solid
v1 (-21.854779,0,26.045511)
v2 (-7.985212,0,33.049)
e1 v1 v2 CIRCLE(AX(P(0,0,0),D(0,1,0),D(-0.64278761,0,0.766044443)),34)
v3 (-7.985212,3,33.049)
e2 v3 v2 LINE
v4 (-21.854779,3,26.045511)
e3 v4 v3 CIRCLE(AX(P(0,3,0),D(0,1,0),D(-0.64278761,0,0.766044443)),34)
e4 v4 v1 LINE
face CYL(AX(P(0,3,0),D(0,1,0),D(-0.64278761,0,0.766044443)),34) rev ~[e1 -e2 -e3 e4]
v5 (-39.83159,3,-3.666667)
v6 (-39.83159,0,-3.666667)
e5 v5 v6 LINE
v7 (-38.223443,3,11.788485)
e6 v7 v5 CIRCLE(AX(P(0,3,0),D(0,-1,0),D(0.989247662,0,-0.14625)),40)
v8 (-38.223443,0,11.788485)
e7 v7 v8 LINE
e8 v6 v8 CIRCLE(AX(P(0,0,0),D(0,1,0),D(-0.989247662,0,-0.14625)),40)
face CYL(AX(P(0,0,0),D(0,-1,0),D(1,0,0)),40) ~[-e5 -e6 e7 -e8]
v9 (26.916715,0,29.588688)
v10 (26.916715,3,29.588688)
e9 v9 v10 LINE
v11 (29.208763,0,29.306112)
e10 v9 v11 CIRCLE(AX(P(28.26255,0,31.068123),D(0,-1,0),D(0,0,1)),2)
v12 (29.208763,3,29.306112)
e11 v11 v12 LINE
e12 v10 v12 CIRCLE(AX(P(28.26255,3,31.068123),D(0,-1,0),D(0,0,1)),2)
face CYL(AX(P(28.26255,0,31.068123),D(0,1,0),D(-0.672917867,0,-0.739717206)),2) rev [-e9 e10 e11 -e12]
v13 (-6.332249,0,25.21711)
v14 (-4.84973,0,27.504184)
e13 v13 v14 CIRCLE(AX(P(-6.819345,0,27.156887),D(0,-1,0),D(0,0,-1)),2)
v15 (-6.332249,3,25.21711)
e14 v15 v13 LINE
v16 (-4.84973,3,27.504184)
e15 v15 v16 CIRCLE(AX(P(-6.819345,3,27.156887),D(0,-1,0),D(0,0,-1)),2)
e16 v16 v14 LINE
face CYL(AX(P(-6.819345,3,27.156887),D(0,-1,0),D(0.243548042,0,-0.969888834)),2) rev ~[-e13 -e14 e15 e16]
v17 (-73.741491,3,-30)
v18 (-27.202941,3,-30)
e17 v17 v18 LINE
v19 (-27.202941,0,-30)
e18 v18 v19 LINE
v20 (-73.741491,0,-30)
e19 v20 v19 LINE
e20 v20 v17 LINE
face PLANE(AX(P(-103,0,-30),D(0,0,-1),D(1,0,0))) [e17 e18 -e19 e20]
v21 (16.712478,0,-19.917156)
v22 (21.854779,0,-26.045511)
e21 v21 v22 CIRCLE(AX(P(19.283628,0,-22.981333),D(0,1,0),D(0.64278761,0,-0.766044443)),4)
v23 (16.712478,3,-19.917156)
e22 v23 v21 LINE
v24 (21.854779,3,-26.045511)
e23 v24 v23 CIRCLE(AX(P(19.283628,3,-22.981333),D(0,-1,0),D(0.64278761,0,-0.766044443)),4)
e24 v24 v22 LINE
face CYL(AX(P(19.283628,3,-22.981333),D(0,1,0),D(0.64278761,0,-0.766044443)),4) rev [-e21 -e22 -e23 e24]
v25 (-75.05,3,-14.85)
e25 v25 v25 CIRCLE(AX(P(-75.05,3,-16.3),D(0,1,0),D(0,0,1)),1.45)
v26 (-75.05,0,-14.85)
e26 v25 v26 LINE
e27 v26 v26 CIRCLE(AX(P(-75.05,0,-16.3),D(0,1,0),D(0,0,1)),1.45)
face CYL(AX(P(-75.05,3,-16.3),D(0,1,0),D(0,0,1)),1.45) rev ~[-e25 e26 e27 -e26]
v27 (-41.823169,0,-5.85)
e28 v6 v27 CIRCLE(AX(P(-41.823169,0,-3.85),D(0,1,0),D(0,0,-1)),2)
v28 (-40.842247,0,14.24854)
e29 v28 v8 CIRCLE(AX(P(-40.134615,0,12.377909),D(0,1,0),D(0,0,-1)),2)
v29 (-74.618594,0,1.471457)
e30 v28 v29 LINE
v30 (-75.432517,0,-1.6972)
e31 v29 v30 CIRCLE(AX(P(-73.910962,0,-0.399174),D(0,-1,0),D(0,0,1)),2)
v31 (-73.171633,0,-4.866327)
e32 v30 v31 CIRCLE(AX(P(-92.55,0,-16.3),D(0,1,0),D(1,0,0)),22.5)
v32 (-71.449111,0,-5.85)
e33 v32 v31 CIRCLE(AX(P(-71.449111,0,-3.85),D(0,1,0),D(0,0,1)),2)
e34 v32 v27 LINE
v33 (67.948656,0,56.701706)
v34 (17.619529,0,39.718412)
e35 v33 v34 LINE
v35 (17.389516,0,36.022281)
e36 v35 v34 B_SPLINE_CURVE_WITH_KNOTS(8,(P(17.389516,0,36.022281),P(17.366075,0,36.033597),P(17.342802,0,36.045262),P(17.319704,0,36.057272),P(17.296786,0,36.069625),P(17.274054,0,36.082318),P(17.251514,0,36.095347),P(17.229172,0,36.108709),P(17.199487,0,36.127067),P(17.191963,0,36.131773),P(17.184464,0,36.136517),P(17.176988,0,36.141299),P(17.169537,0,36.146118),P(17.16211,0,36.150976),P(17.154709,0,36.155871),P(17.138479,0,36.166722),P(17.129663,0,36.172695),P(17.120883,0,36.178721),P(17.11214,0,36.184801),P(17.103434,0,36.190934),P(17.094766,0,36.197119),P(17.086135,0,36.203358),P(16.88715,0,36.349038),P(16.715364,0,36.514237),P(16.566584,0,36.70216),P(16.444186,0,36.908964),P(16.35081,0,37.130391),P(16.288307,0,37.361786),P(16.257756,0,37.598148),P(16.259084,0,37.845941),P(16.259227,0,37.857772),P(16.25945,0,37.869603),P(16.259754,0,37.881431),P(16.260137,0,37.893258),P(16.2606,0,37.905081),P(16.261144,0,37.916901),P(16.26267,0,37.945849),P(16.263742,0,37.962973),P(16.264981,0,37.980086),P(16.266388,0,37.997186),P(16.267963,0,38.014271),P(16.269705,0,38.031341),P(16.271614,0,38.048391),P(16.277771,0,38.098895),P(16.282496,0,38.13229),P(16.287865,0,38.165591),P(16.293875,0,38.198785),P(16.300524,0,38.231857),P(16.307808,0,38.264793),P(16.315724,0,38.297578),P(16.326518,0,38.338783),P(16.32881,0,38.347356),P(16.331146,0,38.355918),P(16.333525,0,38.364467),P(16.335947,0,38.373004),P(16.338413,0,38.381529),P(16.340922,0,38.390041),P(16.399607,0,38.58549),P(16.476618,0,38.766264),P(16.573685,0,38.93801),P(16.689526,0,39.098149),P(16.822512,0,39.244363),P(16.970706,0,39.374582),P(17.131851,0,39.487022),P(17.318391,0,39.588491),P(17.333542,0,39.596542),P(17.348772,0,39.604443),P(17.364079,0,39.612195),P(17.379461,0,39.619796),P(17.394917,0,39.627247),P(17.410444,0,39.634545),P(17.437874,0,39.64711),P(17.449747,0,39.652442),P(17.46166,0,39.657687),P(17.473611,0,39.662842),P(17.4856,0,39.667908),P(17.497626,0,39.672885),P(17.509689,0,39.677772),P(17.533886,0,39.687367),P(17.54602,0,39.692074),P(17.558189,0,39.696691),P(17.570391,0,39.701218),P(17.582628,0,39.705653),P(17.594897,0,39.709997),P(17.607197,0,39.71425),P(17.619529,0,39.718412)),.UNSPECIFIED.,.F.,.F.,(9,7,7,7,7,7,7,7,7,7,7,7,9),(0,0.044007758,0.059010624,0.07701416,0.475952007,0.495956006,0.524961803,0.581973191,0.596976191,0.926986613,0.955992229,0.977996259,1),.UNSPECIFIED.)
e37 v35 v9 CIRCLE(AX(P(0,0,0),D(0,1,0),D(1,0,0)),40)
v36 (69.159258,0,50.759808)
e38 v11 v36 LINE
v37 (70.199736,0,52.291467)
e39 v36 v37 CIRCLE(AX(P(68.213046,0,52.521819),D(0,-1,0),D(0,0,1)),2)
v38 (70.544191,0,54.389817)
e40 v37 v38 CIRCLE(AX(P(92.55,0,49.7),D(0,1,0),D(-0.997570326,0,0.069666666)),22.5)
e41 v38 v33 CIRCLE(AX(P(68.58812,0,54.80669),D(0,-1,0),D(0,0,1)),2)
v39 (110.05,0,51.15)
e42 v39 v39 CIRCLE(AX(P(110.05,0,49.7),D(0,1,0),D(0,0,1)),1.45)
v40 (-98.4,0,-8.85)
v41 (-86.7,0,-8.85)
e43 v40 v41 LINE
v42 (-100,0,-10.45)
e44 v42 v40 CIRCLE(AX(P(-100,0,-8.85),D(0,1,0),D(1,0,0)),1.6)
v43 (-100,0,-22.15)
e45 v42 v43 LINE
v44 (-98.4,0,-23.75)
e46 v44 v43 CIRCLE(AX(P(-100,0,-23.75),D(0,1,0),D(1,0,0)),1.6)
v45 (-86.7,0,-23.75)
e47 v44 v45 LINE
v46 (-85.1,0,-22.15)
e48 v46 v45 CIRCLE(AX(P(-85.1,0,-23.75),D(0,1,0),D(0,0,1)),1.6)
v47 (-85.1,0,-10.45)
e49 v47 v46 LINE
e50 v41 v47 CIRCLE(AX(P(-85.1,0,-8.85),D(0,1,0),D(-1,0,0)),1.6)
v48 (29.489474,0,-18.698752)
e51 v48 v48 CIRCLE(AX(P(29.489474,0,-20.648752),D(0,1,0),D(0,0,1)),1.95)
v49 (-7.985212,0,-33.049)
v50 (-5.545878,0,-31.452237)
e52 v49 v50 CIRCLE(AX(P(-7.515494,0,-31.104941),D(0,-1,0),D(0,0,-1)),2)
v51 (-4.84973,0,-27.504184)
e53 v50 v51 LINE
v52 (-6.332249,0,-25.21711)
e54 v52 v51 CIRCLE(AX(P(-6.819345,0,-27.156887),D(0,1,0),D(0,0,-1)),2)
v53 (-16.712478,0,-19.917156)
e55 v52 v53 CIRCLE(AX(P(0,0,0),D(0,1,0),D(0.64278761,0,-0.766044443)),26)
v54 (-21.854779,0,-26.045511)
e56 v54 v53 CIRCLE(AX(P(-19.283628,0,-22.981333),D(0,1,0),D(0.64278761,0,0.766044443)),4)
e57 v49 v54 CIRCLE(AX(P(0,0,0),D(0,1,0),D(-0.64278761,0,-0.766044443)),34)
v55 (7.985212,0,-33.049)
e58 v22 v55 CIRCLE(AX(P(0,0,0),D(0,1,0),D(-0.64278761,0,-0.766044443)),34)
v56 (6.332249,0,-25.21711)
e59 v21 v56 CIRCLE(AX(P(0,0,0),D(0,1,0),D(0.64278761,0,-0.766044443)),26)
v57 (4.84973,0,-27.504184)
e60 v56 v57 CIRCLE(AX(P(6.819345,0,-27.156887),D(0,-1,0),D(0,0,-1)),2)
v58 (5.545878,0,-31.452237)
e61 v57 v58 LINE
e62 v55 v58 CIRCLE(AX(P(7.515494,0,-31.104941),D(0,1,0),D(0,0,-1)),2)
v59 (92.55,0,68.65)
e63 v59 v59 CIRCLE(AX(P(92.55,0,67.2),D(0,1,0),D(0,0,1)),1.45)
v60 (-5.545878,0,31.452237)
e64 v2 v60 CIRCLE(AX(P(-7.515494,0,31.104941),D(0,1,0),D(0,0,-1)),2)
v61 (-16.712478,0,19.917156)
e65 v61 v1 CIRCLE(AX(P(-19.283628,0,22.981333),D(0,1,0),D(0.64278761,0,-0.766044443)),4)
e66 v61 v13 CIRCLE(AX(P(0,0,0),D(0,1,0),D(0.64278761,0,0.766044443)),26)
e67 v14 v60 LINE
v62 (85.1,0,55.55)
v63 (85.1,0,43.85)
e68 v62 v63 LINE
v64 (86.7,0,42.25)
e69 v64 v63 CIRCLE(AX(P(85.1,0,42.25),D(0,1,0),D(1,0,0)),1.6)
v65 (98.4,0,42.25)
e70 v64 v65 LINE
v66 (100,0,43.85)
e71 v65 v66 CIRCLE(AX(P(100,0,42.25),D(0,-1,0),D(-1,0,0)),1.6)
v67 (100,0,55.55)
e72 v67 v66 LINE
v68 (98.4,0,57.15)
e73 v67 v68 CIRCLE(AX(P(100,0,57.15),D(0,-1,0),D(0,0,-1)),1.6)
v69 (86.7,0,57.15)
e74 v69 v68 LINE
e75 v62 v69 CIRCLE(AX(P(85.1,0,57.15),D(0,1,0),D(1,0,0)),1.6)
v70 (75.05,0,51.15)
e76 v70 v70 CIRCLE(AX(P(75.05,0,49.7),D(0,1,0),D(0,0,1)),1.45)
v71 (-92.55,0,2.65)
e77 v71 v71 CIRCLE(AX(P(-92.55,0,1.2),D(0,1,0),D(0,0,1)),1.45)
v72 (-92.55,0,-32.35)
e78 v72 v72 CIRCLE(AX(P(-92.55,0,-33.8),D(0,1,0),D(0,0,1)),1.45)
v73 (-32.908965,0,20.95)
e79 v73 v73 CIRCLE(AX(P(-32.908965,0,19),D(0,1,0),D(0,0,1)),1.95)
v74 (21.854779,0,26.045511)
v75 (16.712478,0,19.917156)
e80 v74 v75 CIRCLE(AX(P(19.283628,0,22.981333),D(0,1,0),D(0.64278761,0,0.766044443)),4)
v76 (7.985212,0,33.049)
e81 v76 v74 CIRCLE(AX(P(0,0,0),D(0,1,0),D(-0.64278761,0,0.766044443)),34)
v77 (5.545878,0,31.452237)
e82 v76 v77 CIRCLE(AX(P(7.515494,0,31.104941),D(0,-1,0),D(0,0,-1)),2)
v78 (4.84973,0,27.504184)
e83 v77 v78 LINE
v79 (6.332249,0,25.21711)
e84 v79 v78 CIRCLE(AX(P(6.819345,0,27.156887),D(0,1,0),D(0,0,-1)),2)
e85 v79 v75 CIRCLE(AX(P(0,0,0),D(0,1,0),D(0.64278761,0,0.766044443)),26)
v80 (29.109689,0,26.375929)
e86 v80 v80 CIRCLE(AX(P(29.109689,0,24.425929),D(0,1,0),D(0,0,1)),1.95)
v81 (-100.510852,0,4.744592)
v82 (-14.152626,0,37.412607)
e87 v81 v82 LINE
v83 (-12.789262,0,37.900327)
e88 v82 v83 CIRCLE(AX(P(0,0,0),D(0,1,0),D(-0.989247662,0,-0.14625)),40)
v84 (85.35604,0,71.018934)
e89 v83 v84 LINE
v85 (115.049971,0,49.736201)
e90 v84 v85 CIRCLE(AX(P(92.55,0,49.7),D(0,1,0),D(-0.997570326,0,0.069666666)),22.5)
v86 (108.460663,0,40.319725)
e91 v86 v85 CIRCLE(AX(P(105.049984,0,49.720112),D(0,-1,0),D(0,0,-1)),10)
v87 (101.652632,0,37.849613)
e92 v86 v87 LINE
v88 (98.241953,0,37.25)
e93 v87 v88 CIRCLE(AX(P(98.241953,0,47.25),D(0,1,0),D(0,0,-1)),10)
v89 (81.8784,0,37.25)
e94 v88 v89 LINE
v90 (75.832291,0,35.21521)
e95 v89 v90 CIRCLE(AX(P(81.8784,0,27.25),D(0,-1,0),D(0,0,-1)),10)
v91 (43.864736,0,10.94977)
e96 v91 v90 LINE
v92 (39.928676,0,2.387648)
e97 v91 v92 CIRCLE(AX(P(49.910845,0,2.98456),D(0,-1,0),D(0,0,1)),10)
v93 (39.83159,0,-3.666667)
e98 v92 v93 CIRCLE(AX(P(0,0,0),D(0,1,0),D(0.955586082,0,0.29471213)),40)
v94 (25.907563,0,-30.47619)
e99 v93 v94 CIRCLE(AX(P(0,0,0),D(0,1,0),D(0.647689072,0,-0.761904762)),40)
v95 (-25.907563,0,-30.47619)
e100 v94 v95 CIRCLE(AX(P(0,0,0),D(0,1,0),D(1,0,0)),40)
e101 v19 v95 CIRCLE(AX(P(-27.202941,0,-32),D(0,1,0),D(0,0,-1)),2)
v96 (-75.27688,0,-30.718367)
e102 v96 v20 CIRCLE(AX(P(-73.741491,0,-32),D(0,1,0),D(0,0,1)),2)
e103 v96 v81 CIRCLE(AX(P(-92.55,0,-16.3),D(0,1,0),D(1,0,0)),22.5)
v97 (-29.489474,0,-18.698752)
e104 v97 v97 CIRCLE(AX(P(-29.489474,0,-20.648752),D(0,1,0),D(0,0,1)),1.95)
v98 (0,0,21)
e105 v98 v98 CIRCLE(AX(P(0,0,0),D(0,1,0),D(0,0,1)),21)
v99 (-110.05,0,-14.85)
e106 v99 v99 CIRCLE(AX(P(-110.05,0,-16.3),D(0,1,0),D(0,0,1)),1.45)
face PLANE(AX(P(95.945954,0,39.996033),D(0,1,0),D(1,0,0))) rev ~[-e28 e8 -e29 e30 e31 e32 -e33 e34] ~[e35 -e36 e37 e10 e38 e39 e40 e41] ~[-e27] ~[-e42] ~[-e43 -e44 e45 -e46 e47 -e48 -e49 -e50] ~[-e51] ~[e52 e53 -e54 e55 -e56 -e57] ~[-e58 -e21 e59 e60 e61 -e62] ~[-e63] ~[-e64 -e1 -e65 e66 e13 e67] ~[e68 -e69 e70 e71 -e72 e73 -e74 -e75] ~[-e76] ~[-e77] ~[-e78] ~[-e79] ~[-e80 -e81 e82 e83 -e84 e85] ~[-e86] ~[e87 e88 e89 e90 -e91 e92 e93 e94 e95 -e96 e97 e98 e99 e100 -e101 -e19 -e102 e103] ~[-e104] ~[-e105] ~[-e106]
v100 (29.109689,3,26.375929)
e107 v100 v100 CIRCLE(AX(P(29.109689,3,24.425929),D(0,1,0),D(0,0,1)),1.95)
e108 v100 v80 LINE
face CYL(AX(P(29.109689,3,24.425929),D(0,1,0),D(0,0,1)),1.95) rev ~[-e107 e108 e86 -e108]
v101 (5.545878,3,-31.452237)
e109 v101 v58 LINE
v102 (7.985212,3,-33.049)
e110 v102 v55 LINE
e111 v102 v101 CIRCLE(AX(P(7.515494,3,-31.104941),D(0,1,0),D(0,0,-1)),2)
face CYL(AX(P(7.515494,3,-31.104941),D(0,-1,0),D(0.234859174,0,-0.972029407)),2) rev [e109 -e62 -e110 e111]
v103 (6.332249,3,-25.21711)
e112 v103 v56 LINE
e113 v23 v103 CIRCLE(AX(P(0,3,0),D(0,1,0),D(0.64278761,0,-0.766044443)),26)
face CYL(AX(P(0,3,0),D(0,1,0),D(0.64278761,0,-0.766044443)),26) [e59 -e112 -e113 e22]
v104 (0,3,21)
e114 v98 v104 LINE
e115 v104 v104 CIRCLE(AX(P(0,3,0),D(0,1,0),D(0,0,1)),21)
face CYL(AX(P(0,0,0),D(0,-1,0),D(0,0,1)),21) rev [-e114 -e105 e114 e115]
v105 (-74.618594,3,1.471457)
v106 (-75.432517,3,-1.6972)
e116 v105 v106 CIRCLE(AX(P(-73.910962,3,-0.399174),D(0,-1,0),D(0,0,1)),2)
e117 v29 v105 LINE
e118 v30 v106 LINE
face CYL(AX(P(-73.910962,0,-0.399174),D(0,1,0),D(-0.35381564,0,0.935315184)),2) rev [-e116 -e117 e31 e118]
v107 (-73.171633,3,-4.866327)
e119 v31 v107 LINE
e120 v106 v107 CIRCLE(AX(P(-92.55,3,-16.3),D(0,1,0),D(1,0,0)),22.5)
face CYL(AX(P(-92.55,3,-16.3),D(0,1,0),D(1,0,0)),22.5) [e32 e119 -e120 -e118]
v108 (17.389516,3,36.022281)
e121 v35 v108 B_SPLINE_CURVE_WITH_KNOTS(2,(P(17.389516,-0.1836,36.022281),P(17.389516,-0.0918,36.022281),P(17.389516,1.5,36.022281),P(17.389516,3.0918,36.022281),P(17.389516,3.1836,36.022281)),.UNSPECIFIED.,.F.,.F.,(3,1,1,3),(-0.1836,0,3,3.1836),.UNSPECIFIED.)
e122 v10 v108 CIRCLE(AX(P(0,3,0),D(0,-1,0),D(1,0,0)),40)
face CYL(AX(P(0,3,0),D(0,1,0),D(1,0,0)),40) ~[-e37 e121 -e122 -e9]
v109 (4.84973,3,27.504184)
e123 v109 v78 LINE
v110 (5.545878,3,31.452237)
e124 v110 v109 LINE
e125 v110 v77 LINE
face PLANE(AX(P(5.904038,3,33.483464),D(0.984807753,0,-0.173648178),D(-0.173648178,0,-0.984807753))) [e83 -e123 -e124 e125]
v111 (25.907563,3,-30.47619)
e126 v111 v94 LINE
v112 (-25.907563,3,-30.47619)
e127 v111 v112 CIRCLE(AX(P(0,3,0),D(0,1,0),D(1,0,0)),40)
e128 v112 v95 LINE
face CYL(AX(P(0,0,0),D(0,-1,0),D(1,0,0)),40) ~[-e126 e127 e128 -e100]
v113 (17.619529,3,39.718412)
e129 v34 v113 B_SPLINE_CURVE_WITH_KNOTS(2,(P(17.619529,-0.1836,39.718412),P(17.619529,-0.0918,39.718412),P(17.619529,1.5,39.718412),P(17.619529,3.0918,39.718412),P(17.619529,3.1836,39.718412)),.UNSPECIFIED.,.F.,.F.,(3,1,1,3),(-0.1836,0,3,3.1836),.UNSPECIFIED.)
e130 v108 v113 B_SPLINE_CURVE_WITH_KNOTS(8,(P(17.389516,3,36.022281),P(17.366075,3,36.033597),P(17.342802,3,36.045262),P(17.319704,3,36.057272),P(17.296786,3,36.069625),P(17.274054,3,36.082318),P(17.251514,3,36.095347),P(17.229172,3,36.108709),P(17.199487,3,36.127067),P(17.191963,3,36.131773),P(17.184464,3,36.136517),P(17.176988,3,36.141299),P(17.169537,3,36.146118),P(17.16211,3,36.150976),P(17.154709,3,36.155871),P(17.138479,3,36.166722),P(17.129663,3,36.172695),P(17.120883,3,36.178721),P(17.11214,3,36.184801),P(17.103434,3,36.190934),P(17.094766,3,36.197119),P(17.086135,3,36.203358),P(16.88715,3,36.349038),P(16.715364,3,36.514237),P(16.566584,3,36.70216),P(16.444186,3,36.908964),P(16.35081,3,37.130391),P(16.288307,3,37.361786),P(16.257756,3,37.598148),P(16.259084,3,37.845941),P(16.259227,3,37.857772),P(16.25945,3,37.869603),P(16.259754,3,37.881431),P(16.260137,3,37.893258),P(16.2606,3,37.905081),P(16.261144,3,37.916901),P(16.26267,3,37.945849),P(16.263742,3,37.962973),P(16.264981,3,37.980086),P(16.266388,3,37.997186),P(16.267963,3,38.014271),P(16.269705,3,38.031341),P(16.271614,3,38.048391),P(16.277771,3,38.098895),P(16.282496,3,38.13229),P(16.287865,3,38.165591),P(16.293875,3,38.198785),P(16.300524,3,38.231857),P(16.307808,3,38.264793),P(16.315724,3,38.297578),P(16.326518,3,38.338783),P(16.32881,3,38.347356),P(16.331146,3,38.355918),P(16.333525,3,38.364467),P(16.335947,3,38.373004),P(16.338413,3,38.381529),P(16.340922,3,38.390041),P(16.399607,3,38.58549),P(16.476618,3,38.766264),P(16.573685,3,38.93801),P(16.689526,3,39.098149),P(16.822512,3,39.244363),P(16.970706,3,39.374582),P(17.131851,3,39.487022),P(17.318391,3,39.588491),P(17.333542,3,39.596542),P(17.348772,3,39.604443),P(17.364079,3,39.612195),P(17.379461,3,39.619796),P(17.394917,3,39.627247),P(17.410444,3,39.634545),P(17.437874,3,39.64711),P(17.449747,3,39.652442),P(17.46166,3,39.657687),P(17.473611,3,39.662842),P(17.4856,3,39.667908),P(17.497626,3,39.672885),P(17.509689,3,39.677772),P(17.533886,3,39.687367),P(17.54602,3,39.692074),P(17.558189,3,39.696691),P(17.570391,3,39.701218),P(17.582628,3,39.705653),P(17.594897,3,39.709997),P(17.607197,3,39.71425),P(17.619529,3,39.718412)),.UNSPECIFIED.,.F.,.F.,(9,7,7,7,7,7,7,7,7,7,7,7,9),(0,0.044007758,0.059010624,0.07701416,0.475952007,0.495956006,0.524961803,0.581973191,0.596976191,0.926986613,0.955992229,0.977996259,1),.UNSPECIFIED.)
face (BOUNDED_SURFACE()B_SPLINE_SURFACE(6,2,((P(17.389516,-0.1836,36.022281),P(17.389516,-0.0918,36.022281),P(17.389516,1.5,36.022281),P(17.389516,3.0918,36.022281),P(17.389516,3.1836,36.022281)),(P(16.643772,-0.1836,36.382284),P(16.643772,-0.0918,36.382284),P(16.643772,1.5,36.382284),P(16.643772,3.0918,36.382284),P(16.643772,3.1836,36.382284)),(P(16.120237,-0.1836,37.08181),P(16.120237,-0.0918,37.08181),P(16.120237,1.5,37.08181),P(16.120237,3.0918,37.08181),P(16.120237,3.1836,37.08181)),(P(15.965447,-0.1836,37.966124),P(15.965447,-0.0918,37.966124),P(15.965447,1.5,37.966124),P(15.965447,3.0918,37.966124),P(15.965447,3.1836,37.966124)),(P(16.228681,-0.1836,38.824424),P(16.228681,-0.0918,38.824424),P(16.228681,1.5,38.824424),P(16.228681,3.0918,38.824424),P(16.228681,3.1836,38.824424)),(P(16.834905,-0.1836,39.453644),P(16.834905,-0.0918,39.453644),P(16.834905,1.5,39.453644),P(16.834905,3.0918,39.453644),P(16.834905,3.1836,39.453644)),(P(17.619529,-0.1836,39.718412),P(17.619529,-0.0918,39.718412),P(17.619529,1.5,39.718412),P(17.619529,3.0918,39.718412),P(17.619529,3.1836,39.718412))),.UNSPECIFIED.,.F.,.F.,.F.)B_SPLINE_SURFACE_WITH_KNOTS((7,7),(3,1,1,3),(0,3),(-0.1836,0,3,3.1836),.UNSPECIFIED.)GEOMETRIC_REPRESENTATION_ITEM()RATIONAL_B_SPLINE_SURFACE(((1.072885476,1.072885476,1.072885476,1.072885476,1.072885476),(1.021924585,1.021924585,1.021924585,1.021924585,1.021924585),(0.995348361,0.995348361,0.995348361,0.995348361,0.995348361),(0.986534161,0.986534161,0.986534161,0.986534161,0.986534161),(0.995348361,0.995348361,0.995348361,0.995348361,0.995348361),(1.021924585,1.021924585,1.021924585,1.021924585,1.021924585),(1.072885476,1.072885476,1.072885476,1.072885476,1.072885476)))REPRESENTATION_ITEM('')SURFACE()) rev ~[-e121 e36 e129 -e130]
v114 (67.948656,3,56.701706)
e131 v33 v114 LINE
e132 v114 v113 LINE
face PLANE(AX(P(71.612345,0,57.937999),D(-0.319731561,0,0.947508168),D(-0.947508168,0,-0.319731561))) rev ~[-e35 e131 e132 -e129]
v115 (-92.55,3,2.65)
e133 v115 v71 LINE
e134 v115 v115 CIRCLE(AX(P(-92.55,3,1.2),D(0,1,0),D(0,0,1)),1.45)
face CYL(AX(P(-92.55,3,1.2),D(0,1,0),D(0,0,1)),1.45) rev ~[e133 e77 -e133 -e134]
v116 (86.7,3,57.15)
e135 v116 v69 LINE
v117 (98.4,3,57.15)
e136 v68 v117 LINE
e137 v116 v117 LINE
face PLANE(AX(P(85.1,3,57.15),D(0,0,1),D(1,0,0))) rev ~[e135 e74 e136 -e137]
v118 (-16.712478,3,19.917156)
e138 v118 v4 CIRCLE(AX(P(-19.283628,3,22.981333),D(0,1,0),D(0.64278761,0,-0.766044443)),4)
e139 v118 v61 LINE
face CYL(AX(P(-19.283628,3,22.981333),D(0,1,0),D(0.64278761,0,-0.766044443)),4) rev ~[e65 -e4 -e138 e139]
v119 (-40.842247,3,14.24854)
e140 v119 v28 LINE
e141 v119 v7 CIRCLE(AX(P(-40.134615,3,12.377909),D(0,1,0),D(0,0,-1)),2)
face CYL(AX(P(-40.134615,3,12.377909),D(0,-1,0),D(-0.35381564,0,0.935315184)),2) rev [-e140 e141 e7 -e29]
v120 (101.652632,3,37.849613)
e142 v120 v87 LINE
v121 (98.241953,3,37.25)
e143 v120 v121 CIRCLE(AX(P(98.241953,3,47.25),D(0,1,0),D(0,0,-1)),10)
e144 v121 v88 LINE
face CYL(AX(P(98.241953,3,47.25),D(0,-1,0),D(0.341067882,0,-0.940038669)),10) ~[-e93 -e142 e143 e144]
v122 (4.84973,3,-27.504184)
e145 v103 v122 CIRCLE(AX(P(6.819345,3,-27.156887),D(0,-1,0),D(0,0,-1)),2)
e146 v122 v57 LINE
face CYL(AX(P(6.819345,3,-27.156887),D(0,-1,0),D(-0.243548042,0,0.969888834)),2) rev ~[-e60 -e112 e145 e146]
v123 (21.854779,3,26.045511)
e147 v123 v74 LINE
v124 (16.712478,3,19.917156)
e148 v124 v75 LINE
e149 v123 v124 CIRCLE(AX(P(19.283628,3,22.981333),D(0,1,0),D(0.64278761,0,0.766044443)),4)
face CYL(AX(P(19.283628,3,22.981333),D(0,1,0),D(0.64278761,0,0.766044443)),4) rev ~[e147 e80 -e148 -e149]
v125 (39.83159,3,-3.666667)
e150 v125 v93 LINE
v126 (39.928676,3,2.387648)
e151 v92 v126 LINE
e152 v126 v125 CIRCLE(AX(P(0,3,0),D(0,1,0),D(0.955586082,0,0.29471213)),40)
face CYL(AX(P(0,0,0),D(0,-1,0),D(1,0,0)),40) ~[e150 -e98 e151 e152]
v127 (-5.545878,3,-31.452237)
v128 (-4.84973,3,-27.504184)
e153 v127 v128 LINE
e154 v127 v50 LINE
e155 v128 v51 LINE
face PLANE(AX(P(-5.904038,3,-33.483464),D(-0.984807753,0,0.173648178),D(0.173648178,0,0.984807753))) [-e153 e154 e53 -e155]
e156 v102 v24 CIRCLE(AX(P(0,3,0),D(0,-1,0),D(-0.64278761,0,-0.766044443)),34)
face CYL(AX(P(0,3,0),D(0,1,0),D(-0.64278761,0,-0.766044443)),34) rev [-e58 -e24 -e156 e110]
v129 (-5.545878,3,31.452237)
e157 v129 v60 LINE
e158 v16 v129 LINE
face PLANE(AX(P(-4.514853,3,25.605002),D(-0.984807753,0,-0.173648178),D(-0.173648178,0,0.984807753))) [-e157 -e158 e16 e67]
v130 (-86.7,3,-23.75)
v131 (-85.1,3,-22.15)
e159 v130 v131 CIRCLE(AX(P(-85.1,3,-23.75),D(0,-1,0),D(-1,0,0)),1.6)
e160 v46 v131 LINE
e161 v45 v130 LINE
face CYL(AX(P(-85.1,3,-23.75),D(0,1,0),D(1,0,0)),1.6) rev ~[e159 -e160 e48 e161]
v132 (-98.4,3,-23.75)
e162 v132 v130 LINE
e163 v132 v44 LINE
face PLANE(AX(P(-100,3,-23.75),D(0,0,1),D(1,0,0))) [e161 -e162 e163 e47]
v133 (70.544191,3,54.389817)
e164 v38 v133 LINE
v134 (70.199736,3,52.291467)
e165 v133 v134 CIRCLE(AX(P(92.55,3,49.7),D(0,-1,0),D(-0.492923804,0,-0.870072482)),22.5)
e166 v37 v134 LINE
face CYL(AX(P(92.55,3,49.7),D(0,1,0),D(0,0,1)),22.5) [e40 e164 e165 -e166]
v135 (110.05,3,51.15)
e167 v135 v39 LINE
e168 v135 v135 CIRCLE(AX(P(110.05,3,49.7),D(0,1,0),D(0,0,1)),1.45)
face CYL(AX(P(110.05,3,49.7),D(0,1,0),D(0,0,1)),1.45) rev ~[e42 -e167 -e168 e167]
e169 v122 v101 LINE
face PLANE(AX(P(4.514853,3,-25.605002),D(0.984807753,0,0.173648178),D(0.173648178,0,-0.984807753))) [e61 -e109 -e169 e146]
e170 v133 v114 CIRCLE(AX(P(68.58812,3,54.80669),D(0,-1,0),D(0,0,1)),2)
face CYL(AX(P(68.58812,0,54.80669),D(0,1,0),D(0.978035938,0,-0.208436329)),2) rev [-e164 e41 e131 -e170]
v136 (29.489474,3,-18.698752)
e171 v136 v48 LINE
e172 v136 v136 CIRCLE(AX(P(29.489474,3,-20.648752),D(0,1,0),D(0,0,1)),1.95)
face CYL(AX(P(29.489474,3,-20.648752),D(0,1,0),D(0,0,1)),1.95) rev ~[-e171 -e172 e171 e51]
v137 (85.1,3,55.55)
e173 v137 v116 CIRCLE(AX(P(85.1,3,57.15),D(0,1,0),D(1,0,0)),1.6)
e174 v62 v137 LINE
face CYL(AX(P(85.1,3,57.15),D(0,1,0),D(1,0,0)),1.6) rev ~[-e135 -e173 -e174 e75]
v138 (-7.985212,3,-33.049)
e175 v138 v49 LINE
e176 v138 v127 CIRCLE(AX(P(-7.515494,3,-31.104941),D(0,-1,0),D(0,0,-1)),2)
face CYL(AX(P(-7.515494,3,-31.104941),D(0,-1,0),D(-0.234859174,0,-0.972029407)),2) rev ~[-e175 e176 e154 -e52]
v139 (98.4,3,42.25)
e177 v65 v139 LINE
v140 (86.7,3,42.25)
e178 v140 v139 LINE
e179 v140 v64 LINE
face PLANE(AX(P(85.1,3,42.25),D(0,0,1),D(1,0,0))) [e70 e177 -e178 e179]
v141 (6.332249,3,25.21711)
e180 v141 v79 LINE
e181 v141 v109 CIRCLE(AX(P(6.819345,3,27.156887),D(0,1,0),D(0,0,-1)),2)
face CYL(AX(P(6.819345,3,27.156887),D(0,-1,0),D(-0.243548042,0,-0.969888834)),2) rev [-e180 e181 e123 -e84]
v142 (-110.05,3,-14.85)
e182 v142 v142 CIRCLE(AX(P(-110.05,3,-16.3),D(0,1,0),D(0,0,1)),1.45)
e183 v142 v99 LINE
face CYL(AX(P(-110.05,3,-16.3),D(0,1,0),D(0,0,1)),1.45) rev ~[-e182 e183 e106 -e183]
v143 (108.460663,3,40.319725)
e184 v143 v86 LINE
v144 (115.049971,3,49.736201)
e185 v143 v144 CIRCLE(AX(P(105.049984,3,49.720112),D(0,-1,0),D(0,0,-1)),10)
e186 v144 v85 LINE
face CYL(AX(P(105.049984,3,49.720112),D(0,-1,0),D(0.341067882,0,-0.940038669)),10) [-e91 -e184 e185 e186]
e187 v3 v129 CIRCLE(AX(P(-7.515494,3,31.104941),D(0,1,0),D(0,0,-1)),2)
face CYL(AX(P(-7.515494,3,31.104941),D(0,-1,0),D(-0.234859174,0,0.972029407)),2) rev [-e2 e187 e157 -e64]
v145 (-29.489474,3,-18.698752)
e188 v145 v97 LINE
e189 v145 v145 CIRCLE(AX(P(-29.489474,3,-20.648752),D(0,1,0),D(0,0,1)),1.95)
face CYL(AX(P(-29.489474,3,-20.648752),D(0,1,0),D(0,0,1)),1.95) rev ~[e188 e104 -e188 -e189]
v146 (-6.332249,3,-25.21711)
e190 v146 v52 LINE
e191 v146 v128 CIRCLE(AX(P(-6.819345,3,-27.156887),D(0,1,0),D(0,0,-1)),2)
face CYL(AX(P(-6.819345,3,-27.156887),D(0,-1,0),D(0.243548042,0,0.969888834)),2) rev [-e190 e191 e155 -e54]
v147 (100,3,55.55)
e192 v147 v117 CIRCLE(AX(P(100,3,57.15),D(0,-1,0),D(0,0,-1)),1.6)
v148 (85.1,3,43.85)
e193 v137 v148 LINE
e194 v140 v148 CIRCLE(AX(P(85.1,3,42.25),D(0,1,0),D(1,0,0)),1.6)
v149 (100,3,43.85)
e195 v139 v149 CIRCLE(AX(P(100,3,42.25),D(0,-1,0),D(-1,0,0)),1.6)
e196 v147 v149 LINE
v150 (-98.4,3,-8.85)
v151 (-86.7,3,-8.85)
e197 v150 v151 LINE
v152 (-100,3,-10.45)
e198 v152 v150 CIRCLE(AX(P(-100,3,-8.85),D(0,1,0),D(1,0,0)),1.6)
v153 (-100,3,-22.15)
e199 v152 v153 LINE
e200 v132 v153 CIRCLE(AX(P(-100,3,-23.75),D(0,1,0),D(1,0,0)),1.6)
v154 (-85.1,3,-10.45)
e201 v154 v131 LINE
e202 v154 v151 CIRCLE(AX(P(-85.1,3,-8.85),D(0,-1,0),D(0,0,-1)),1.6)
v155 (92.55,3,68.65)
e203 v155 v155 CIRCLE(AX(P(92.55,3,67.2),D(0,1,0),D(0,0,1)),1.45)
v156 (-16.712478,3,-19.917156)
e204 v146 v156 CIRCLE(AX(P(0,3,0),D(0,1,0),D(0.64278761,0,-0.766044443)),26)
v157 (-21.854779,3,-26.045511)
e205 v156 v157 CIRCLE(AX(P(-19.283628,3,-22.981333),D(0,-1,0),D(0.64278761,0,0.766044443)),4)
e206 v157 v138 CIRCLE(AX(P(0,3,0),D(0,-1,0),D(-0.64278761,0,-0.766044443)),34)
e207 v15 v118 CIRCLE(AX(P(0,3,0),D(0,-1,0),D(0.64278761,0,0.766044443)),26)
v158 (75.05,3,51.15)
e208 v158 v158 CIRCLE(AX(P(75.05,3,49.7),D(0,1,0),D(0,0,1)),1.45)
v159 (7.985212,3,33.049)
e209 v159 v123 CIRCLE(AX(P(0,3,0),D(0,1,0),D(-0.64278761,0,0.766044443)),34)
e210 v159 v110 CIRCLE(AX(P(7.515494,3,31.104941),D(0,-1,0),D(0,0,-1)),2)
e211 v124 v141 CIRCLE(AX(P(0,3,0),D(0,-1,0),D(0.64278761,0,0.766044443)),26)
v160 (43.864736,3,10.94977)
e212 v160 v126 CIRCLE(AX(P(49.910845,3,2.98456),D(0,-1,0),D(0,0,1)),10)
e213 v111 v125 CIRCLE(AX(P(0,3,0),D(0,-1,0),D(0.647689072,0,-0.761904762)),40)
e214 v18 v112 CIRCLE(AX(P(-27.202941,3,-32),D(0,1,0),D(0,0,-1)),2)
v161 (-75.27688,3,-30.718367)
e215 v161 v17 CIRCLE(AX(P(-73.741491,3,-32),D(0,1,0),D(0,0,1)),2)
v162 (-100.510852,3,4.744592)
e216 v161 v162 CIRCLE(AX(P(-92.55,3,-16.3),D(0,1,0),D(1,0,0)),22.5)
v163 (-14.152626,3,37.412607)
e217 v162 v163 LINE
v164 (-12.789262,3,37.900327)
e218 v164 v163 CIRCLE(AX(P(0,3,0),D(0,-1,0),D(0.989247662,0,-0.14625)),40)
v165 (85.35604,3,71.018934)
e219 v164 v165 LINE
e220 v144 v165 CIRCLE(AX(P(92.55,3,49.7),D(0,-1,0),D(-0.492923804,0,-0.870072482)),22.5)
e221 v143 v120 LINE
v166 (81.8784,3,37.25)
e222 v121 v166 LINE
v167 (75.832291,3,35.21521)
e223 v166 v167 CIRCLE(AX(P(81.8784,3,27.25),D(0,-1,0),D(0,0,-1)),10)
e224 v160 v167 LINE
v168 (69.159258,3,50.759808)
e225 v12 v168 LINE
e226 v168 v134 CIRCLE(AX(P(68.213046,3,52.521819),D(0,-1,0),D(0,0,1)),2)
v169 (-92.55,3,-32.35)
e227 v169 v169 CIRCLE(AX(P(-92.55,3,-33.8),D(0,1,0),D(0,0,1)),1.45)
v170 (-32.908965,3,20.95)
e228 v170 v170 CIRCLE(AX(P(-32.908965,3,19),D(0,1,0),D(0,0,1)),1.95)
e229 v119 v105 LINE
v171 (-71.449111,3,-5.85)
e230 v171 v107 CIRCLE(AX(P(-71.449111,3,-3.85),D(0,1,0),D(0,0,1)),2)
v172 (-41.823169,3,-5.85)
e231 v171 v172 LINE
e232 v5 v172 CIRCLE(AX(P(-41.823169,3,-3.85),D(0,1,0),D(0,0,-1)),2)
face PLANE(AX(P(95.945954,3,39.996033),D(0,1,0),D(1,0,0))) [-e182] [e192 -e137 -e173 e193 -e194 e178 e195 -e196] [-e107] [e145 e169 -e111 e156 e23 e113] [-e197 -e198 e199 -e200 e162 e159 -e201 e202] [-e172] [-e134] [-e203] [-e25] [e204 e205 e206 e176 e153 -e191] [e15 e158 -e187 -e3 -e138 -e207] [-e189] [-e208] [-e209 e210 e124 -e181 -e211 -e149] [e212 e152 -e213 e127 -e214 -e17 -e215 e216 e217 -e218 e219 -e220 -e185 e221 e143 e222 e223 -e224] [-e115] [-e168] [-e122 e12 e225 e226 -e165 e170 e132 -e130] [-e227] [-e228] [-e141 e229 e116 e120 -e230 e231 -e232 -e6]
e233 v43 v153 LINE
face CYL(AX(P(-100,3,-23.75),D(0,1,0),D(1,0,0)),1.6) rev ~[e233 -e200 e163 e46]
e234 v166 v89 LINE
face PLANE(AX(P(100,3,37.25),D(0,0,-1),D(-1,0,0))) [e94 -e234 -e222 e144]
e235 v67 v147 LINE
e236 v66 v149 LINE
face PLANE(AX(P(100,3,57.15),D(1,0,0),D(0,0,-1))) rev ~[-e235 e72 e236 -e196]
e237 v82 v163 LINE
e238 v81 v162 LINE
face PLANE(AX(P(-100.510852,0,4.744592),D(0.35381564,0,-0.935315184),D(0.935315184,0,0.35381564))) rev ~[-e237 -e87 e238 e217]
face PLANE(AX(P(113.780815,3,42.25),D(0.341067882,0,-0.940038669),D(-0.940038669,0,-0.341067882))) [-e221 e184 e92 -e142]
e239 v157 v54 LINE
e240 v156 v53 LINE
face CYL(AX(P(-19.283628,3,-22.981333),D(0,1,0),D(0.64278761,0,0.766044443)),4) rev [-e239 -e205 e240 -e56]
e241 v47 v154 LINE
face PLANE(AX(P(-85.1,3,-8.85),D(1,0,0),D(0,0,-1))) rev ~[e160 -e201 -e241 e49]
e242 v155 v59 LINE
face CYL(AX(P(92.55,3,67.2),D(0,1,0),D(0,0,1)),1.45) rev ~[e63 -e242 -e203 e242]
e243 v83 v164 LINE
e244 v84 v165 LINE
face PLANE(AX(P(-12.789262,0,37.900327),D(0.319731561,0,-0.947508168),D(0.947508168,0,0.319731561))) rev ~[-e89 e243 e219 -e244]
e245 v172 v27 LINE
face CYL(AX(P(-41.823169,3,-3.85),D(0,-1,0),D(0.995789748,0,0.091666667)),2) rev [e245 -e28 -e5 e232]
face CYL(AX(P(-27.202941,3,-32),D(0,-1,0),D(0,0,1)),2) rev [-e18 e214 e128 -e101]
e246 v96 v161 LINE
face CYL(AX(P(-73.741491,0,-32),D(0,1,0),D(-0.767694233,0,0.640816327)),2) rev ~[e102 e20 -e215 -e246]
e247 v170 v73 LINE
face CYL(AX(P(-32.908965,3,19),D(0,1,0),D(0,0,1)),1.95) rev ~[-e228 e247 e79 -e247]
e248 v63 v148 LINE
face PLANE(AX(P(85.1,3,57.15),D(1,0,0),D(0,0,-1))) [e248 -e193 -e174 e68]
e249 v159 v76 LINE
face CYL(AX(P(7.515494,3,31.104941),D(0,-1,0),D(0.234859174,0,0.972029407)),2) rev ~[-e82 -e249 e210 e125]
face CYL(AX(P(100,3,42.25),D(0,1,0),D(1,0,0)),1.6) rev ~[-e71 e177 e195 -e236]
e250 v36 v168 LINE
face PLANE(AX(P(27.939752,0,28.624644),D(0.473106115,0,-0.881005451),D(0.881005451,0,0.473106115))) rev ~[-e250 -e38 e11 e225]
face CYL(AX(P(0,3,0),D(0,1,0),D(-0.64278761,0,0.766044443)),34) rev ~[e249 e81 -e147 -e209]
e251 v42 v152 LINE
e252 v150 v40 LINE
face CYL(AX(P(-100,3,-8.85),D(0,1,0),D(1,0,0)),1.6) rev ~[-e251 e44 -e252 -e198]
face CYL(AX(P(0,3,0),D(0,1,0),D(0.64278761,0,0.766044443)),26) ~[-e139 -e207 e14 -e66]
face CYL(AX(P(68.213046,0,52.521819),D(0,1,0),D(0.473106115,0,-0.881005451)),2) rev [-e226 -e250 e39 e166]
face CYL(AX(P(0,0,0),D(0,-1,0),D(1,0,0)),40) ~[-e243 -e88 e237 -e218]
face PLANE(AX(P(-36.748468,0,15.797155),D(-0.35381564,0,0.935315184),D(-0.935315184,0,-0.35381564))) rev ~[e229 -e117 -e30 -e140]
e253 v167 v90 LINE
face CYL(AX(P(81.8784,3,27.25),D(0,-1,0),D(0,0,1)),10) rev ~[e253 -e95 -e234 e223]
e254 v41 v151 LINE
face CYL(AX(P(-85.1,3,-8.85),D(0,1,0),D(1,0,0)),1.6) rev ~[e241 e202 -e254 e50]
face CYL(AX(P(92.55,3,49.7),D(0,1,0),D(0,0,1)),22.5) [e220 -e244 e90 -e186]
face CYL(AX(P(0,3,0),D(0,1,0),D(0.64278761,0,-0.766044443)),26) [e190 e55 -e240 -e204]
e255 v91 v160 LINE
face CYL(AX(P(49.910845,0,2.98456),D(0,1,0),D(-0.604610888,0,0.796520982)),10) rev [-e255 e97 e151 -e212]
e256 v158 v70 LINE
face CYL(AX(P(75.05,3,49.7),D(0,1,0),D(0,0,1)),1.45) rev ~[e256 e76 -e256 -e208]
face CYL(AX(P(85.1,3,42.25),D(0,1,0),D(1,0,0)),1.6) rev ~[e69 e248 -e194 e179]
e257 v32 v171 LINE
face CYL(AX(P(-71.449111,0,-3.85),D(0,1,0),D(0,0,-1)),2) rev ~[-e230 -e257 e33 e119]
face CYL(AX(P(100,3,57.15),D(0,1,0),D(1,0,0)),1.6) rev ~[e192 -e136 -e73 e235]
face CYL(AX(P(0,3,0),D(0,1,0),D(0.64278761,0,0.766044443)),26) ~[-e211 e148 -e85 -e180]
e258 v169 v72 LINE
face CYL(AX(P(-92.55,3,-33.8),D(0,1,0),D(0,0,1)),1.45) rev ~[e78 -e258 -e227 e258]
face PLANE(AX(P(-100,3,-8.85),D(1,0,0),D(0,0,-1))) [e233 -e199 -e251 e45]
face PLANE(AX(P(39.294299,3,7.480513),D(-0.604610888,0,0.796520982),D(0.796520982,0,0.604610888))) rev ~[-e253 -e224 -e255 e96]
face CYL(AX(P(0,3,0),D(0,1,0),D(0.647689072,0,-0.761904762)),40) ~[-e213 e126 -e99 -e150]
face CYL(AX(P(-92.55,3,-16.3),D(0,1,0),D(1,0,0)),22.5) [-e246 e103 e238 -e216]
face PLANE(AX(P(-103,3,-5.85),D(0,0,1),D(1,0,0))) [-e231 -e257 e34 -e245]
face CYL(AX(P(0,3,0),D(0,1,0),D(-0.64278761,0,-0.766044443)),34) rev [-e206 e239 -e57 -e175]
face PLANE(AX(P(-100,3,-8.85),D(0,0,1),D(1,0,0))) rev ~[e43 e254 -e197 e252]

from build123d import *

# Parameters (mm, degrees)
SKETCH_1_W           = 206
SKETCH_1_H           = 60
SKETCH_1_R           = 21
EXTRUDE_1_DEPTH      = 3
SKETCH_2_W           = 14.9
SKETCH_2_H           = 14.9
CUT_EXTRUDE_1_DEPTH  = 108.321945566
SKETCH_3_W           = 80
SKETCH_3_H           = 35.85
CUT_EXTRUDE_2_DEPTH  = 108.321945566
SKETCH_4_R           = 22.5
SKETCH_4_W           = 14.9
SKETCH_4_H           = 14.9
EXTRUDE_2_DEPTH      = 3
EXTRUDE_START        = -3
SKETCH_5_R           = 40
SKETCH_5_R_2         = 21
EXTRUDE_3_DEPTH      = 3
SKETCH_6_R           = 1.6
CUT_EXTRUDE_3_DEPTH  = 122.842121206
SKETCH_7_R           = 1.45
CUT_EXTRUDE_4_DEPTH  = 122.842121206
SKETCH_8_R           = 5
EXTRUDE_4_DEPTH      = 3
SKETCH_9_R           = 1.95
CUT_EXTRUDE_5_DEPTH  = 122.842121206
SKETCH_10_R          = 1.95
CUT_EXTRUDE_6_DEPTH  = 122.842121206
EXTRUDE_5_DEPTH      = 3
FILLET_1_R           = 2
CUT_EXTRUDE_7_DEPTH  = 122.842121206
EXTRUDE_6_DEPTH      = 3
FILLET_2_R           = 2
SKETCH_14_R          = 22.5
SKETCH_14_R_2        = 1.45
SKETCH_14_W          = 14.9
SKETCH_14_H          = 14.9
EXTRUDE_7_DEPTH      = 3
CUT_EXTRUDE_8_DEPTH  = 136.861482768
EXTRUDE_8_DEPTH      = 3
CUT_EXTRUDE_9_DEPTH  = 136.861482768
EXTRUDE_9_DEPTH      = 3
EXTRUDE_10_DEPTH     = 3
FILLET_3_R           = 2
FILLET_4_R           = 10
SKETCH_21_R          = 1.6
CUT_EXTRUDE_10_DEPTH = 136.861482768


with BuildPart() as part:
    # 草图1 → 凸台-拉伸1 (new body)
    with BuildSketch(Plane(origin=(0, 0, 0), x_dir=(1, 0, 0), z_dir=(0, 1, 0))):
        Rectangle(SKETCH_1_W, SKETCH_1_H)
        with Locations(Location((0, 0, 0), (0, 0, 270))):
            Circle(SKETCH_1_R, mode=Mode.SUBTRACT)
    extrude(amount=EXTRUDE_1_DEPTH)

    # 草图2 → 切除-拉伸1 (cut, through all)
    with BuildSketch(Plane(origin=(0, 3, 0), x_dir=(1, 0, 0), z_dir=(0, 1, 0))):
        with Locations((-92.55, 16.3)):
            Rectangle(SKETCH_2_W, SKETCH_2_H)
        with Locations((92.55, 16.3)):
            Rectangle(SKETCH_2_W, SKETCH_2_H)
    extrude(amount=-CUT_EXTRUDE_1_DEPTH, mode=Mode.SUBTRACT)

    # 草图3 → 切除-拉伸2 (cut, through all)
    with BuildSketch(Plane(origin=(0, 3, 0), x_dir=(1, 0, 0), z_dir=(0, 1, 0))):
        with Locations((-63, -12.075)):
            Rectangle(SKETCH_3_W, SKETCH_3_H)
        with Locations((63, -12.075)):
            Rectangle(SKETCH_3_W, SKETCH_3_H)
    extrude(amount=-CUT_EXTRUDE_2_DEPTH, mode=Mode.SUBTRACT)

    # 草图4 → 凸台-拉伸2 (add)
    # profile 1 of 2: a face of its own
    with BuildSketch(Plane(origin=(0, 3, 0), x_dir=(1, 0, 0), z_dir=(0, 1, 0))):
        with Locations((-92.55, 16.3)):
            Circle(SKETCH_4_R)
        with Locations((-92.55, 16.3)):
            Rectangle(SKETCH_4_W, SKETCH_4_H, mode=Mode.SUBTRACT)
    # profile 2 of 2: a face of its own
    with BuildSketch(Plane(origin=(0, 3, 0), x_dir=(1, 0, 0), z_dir=(0, 1, 0))):
        with Locations((92.55, 16.3)):
            Circle(SKETCH_4_R)
        with Locations((92.55, 16.3)):
            Rectangle(SKETCH_4_W, SKETCH_4_H, mode=Mode.SUBTRACT)
    extrude(amount=-EXTRUDE_2_DEPTH)

    # 草图5 → 凸台-拉伸3 (add)
    with BuildSketch(Plane(origin=(0, 3, 0), x_dir=(1, 0, 0), z_dir=(0, 1, 0)).offset(EXTRUDE_START)):
        Circle(SKETCH_5_R)
        with Locations(Location((0, 0, 0), (0, 0, 270))):
            Circle(SKETCH_5_R_2, mode=Mode.SUBTRACT)
    extrude(amount=EXTRUDE_3_DEPTH)

    # 草图6 → 切除-拉伸3 (cut, through all)
    with BuildSketch(Plane(origin=(0, 3, 0), x_dir=(1, 0, 0), z_dir=(0, 1, 0))):
        with Locations((-100, 23.75)):
            Circle(SKETCH_6_R)
        with Locations((-85.1, 23.75)):
            Circle(SKETCH_6_R)
        with Locations((-100, 8.85)):
            Circle(SKETCH_6_R)
        with Locations((-85.1, 8.85)):
            Circle(SKETCH_6_R)
        with Locations((85.1, 8.85)):
            Circle(SKETCH_6_R)
        with Locations((100, 8.85)):
            Circle(SKETCH_6_R)
        with Locations((85.1, 23.75)):
            Circle(SKETCH_6_R)
        with Locations((100, 23.75)):
            Circle(SKETCH_6_R)
    extrude(amount=-CUT_EXTRUDE_3_DEPTH, mode=Mode.SUBTRACT)

    # 草图7 → 切除-拉伸4 (cut, through all)
    with BuildSketch(Plane(origin=(0, 3, 0), x_dir=(1, 0, 0), z_dir=(0, 1, 0))):
        with Locations(Location((-92.55, 33.8, 0), (0, 0, 270))):
            Circle(SKETCH_7_R)
        with Locations(Location((-75.05, 16.3, 0), (0, 0, 270))):
            Circle(SKETCH_7_R)
        with Locations(Location((-92.55, -1.2, 0), (0, 0, 270))):
            Circle(SKETCH_7_R)
        with Locations(Location((-110.05, 16.3, 0), (0, 0, 270))):
            Circle(SKETCH_7_R)
        with Locations(Location((110.05, 16.3, 0), (0, 0, 90))):
            Circle(SKETCH_7_R)
        with Locations(Location((92.55, -1.2, 0), (0, 0, 90))):
            Circle(SKETCH_7_R)
        with Locations(Location((75.05, 16.3, 0), (0, 0, 90))):
            Circle(SKETCH_7_R)
        with Locations(Location((92.55, 33.8, 0), (0, 0, 90))):
            Circle(SKETCH_7_R)
    extrude(amount=-CUT_EXTRUDE_4_DEPTH, mode=Mode.SUBTRACT)

    # 草图8 → 凸台-拉伸4 (add)
    with BuildSketch(Plane(origin=(0, 3, 0), x_dir=(1, 0, 0), z_dir=(0, 1, 0))):
        with Locations((-32.908965344, -19)):
            Circle(SKETCH_8_R)
        with Locations((29.109688839, -24.425929168)):
            Circle(SKETCH_8_R)
    extrude(amount=-EXTRUDE_4_DEPTH)

    # 草图9 → 切除-拉伸5 (cut, through all)
    with BuildSketch(Plane(origin=(0, 3, 0), x_dir=(1, 0, 0), z_dir=(0, 1, 0))):
        with Locations(Location((-32.908965344, -19, 0), (0, 0, 270))):
            Circle(SKETCH_9_R)
        with Locations(Location((29.109688839, -24.425929168, 0), (0, 0, 270))):
            Circle(SKETCH_9_R)
    extrude(amount=-CUT_EXTRUDE_5_DEPTH, mode=Mode.SUBTRACT)

    # 草图10 → 切除-拉伸6 (cut, through all)
    with BuildSketch(Plane(origin=(0, 3, 0), x_dir=(1, 0, 0), z_dir=(0, 1, 0))):
        with Locations(Location((29.489473594, 20.648751709, 0), (0, 0, 270))):
            Circle(SKETCH_10_R)
        with Locations(Location((-29.489473594, 20.648751709, 0), (0, 0, 270))):
            Circle(SKETCH_10_R)
    extrude(amount=-CUT_EXTRUDE_6_DEPTH, mode=Mode.SUBTRACT)

    # 草图11 → 凸台-拉伸5 (add)
    with BuildSketch(Plane(origin=(0, 3, 0), x_dir=(1, 0, 0), z_dir=(0, 1, 0)).offset(EXTRUDE_START)):
        with BuildLine():
            ThreePointArc((-77.465475941, -0.39452407), (-88.376578359, -5.809557929), (-100.510851903, -4.744591633))
            Line((-100.510851903, -4.744591633), (-14.152625605, -37.412607347))
            ThreePointArc((-14.152625605, -37.412607347), (-24.067697739, -31.949114628), (-32.05497123, -23.926529616))
            ThreePointArc((-32.05497123, -23.926529616), (-37.239092363, -21.5), (-36.748468086, -15.797154595))
            Line((-36.748468086, -15.797154595), (-77.465475941, -0.39452407))
        make_face()
        with BuildLine():
            ThreePointArc((27.413185924, -29.129319207), (21.191564067, -33.925176674), (14.152625605, -37.412607347))
            Line((14.152625605, -37.412607347), (100.510851903, -4.744591633))
            ThreePointArc((100.510851903, -4.744591633), (88.376578359, -5.809557929), (77.465475941, -0.39452407))
            Line((77.465475941, -0.39452407), (36.748468086, -15.797154595))
            ThreePointArc((36.748468086, -15.797154595), (35.231816329, -18.939881683), (33.447029175, -21.938464836))
            ThreePointArc((33.447029175, -21.938464836), (32.939911054, -27.639867217), (27.413185924, -29.129319207))
        make_face()
    extrude(amount=EXTRUDE_5_DEPTH)

    # 圆角1
    fillet_1_edges = [part.edges().sort_by_distance(p)[0] for p in [
        (-39.569906495, 1.5, -5.85),
        (26.457513111, 1.5, -30),
        (39.569906495, 1.5, -5.85),
        (-26.457513111, 1.5, -30),
        (-36.748468086, 1.5, 15.797154595),
        (-77.465475941, 1.5, 0.39452407),
        (77.465475941, 1.5, 0.39452407),
        (36.748468086, 1.5, 15.797154595),
        (-72.623949212, 1.5, -5.85),
        (72.623949212, 1.5, -5.85),
        (-74.701750786, 1.5, -30),
        (74.701750786, 1.5, -30),
    ]]
    fillet(fillet_1_edges, radius=FILLET_1_R)

    # 草图12 → 切除-拉伸7 (cut, through all)
    with BuildSketch(Plane(origin=(0, 3, 0), x_dir=(1, 0, 0), z_dir=(0, 1, 0))):
        with BuildLine():
            ThreePointArc((-21.854778729, -26.045511066), (0, -34), (21.854778729, -26.045511066))
            ThreePointArc((21.854778729, -26.045511066), (22.347806063, -20.410182855), (16.712477852, -19.917155521))
            ThreePointArc((16.712477852, -19.917155521), (0, -26), (-16.712477852, -19.917155521))
            ThreePointArc((-16.712477852, -19.917155521), (-22.347806063, -20.410182855), (-21.854778729, -26.045511066))
        make_face()
        with BuildLine():
            ThreePointArc((-21.854778729, 26.045511066), (0, 34), (21.854778729, 26.045511066))
            ThreePointArc((21.854778729, 26.045511066), (22.347806063, 20.410182855), (16.712477852, 19.917155521))
            ThreePointArc((16.712477852, 19.917155521), (0, 26), (-16.712477852, 19.917155521))
            ThreePointArc((-16.712477852, 19.917155521), (-22.347806063, 20.410182855), (-21.854778729, 26.045511066))
        make_face()
    extrude(amount=-CUT_EXTRUDE_7_DEPTH, mode=Mode.SUBTRACT)

    # 草图13 → 凸台-拉伸6 (add)
    with BuildSketch(Plane(origin=(0, 3, 0), x_dir=(1, 0, 0), z_dir=(0, 1, 0))):
        with BuildLine():
            ThreePointArc((4.514852619, -25.605001578), (0, -26), (-4.514852619, -25.605001578))
            Line((-4.514852619, -25.605001578), (-5.904038041, -33.483463602))
            ThreePointArc((-5.904038041, -33.483463602), (0, -34), (5.904038041, -33.483463602))
            Line((5.904038041, -33.483463602), (4.514852619, -25.605001578))
        make_face()
        with BuildLine():
            Line((-5.904038041, 33.483463602), (-4.514852619, 25.605001578))
            ThreePointArc((-4.514852619, 25.605001578), (0, 26), (4.514852619, 25.605001578))
            Line((4.514852619, 25.605001578), (5.904038041, 33.483463602))
            ThreePointArc((5.904038041, 33.483463602), (0, 34), (-5.904038041, 33.483463602))
        make_face()
    extrude(amount=-EXTRUDE_6_DEPTH)

    # 圆角2
    fillet_2_edges = [part.edges().sort_by_distance(p)[0] for p in [
        (-5.904038041, 1.5, 33.483463602),
        (-4.514852619, 1.5, 25.605001578),
        (4.514852619, 1.5, 25.605001578),
        (5.904038041, 1.5, 33.483463602),
        (5.904038041, 1.5, -33.483463602),
        (4.514852619, 1.5, -25.605001578),
        (-4.514852619, 1.5, -25.605001578),
        (-5.904038041, 1.5, -33.483463602),
    ]]
    fillet(fillet_2_edges, radius=FILLET_2_R)

    # 草图15 → 切除-拉伸8 (cut, through all)
    with BuildSketch(Plane(origin=(0, 3, 0), x_dir=(1, 0, 0), z_dir=(0, 1, 0))):
        with BuildLine():
            ThreePointArc((40, 0), (32.909763173, -22.736479233), (14.152625605, -37.412607347))
            Line((14.152625605, -37.412607347), (100.510851903, -4.744591633))
            ThreePointArc((100.510851903, -4.744591633), (110.882619843, 29.344732641), (75.276879754, 30.718367347))
            ThreePointArc((75.276879754, 30.718367347), (74.589056829, 30.188472288), (73.741491287, 30))
            Line((73.741491287, 30), (27.202941017, 30))
            ThreePointArc((27.202941017, 30), (26.512875458, 30.122818729), (25.907562874, 30.476190476))
            ThreePointArc((25.907562874, 30.476190476), (36.306352853, 16.788351394), (40, 0))
        make_face()
    extrude(amount=-CUT_EXTRUDE_8_DEPTH, mode=Mode.SUBTRACT)



with BuildPart() as body_2:
    # 草图14 → 凸台-拉伸7 (new body)
    with BuildSketch(Plane(origin=(0, 3, 0), x_dir=(1, 0, 0), z_dir=(0, 1, 0))):
        with Locations(Location((92.55, -49.7, 0), (0, 0, 270))):
            Circle(SKETCH_14_R)
        with Locations(Location((92.55, -32.2, 0), (0, 0, 270))):
            Circle(SKETCH_14_R_2, mode=Mode.SUBTRACT)
        with Locations(Location((110.05, -49.7, 0), (0, 0, 270))):
            Circle(SKETCH_14_R_2, mode=Mode.SUBTRACT)
        with Locations(Location((92.55, -67.2, 0), (0, 0, 270))):
            Circle(SKETCH_14_R_2, mode=Mode.SUBTRACT)
        with Locations(Location((75.05, -49.7, 0), (0, 0, 270))):
            Circle(SKETCH_14_R_2, mode=Mode.SUBTRACT)
        with Locations((92.55, -49.7)):
            Rectangle(SKETCH_14_W, SKETCH_14_H, mode=Mode.SUBTRACT)
    extrude(amount=-EXTRUDE_7_DEPTH)


with BuildPart() as part_1:
    add(part.part)

    add(body_2.part)  # 凸台-拉伸8 merges body 2
    # 草图16 → 凸台-拉伸8 (add)
    with BuildSketch(Plane(origin=(0, 3, 0), x_dir=(1, 0, 0), z_dir=(0, 1, 0)).offset(EXTRUDE_START)):
        with BuildLine():
            ThreePointArc((70.104667661, -51.26749998), (72.727377357, -39.055112422), (81.459214411, -30.123369161))
            Line((81.459214411, -30.123369161), (39.294298822, -7.480513356))
            ThreePointArc((39.294298822, -7.480513356), (35.240218032, -18.924244583), (27.939752072, -28.624644175))
            Line((27.939752072, -28.624644175), (70.104667661, -51.26749998))
        make_face()
    extrude(amount=EXTRUDE_8_DEPTH)

    # 草图17 → 切除-拉伸9 (cut, through all)
    with BuildSketch(Plane(origin=(0, 3, 0), x_dir=(1, 0, 0), z_dir=(0, 1, 0))):
        with BuildLine():
            Line((81.459214411, -30.123369161), (39.294298822, -7.480513356))
            Line((39.294298822, -7.480513356), (85.1, -42.25))
            Line((85.1, -42.25), (113.780814869, -42.25))
            ThreePointArc((113.780814869, -42.25), (100.453723321, -28.633886033), (81.459214411, -30.123369161))
        make_face()
    extrude(amount=-CUT_EXTRUDE_9_DEPTH, mode=Mode.SUBTRACT)

    # 草图18 → 凸台-拉伸9 (add)
    with BuildSketch(Plane(origin=(0, 3, 0), x_dir=(1, 0, 0), z_dir=(0, 1, 0))):
        Polygon((85.1, -42.25), (100, -42.25), (113.780814869, -42.25), (100, -37.25), (78.51294543, -37.25), align=None)
    extrude(amount=-EXTRUDE_9_DEPTH)

    # 草图20 → 凸台-拉伸10 (add)
    with BuildSketch(Plane(origin=(0, 3, 0), x_dir=(1, 0, 0), z_dir=(0, 1, 0)).offset(EXTRUDE_START)):
        with BuildLine():
            ThreePointArc((12.508786089, -37.993818847), (-0.147824015, -39.99972685), (-12.789262437, -37.900326731))
            Line((-12.789262437, -37.900326731), (85.356039879, -71.018933786))
            ThreePointArc((85.356039879, -71.018933786), (77.037919165, -65.998016694), (71.612345453, -57.93799867))
            Line((71.612345453, -57.93799867), (12.508786089, -37.993818847))
        make_face()
    extrude(amount=EXTRUDE_10_DEPTH)

    # 圆角3
    fillet_3_edges = [part_1.edges().sort_by_distance(p)[0] for p in [
        (12.508786089, 1.5, 37.993818847),
        (71.612345453, 1.5, 57.93799867),
        (27.939752072, 1.5, 28.624644175),
        (70.104667661, 1.5, 51.26749998),
    ]]
    fillet(fillet_3_edges, radius=FILLET_3_R)

    # 圆角4
    fillet_4_edges = [part_1.edges().sort_by_distance(p)[0] for p in [
        (113.780814869, 1.5, 42.25),
        (78.51294543, 1.5, 37.25),
        (100, 1.5, 37.25),
        (39.294298822, 1.5, 7.480513356),
    ]]
    fillet(fillet_4_edges, radius=FILLET_4_R)

    # 草图21 → 切除-拉伸10 (cut, through all)
    with BuildSketch(Plane(origin=(0, 3, 0), x_dir=(1, 0, 0), z_dir=(0, 1, 0))):
        with Locations((85.1, -42.25)):
            Circle(SKETCH_21_R)
        with Locations((100, -42.25)):
            Circle(SKETCH_21_R)
        with Locations((85.1, -57.15)):
            Circle(SKETCH_21_R)
        with Locations((100, -57.15)):
            Circle(SKETCH_21_R)
    extrude(amount=-CUT_EXTRUDE_10_DEPTH, mode=Mode.SUBTRACT)


solid = part_1.part
